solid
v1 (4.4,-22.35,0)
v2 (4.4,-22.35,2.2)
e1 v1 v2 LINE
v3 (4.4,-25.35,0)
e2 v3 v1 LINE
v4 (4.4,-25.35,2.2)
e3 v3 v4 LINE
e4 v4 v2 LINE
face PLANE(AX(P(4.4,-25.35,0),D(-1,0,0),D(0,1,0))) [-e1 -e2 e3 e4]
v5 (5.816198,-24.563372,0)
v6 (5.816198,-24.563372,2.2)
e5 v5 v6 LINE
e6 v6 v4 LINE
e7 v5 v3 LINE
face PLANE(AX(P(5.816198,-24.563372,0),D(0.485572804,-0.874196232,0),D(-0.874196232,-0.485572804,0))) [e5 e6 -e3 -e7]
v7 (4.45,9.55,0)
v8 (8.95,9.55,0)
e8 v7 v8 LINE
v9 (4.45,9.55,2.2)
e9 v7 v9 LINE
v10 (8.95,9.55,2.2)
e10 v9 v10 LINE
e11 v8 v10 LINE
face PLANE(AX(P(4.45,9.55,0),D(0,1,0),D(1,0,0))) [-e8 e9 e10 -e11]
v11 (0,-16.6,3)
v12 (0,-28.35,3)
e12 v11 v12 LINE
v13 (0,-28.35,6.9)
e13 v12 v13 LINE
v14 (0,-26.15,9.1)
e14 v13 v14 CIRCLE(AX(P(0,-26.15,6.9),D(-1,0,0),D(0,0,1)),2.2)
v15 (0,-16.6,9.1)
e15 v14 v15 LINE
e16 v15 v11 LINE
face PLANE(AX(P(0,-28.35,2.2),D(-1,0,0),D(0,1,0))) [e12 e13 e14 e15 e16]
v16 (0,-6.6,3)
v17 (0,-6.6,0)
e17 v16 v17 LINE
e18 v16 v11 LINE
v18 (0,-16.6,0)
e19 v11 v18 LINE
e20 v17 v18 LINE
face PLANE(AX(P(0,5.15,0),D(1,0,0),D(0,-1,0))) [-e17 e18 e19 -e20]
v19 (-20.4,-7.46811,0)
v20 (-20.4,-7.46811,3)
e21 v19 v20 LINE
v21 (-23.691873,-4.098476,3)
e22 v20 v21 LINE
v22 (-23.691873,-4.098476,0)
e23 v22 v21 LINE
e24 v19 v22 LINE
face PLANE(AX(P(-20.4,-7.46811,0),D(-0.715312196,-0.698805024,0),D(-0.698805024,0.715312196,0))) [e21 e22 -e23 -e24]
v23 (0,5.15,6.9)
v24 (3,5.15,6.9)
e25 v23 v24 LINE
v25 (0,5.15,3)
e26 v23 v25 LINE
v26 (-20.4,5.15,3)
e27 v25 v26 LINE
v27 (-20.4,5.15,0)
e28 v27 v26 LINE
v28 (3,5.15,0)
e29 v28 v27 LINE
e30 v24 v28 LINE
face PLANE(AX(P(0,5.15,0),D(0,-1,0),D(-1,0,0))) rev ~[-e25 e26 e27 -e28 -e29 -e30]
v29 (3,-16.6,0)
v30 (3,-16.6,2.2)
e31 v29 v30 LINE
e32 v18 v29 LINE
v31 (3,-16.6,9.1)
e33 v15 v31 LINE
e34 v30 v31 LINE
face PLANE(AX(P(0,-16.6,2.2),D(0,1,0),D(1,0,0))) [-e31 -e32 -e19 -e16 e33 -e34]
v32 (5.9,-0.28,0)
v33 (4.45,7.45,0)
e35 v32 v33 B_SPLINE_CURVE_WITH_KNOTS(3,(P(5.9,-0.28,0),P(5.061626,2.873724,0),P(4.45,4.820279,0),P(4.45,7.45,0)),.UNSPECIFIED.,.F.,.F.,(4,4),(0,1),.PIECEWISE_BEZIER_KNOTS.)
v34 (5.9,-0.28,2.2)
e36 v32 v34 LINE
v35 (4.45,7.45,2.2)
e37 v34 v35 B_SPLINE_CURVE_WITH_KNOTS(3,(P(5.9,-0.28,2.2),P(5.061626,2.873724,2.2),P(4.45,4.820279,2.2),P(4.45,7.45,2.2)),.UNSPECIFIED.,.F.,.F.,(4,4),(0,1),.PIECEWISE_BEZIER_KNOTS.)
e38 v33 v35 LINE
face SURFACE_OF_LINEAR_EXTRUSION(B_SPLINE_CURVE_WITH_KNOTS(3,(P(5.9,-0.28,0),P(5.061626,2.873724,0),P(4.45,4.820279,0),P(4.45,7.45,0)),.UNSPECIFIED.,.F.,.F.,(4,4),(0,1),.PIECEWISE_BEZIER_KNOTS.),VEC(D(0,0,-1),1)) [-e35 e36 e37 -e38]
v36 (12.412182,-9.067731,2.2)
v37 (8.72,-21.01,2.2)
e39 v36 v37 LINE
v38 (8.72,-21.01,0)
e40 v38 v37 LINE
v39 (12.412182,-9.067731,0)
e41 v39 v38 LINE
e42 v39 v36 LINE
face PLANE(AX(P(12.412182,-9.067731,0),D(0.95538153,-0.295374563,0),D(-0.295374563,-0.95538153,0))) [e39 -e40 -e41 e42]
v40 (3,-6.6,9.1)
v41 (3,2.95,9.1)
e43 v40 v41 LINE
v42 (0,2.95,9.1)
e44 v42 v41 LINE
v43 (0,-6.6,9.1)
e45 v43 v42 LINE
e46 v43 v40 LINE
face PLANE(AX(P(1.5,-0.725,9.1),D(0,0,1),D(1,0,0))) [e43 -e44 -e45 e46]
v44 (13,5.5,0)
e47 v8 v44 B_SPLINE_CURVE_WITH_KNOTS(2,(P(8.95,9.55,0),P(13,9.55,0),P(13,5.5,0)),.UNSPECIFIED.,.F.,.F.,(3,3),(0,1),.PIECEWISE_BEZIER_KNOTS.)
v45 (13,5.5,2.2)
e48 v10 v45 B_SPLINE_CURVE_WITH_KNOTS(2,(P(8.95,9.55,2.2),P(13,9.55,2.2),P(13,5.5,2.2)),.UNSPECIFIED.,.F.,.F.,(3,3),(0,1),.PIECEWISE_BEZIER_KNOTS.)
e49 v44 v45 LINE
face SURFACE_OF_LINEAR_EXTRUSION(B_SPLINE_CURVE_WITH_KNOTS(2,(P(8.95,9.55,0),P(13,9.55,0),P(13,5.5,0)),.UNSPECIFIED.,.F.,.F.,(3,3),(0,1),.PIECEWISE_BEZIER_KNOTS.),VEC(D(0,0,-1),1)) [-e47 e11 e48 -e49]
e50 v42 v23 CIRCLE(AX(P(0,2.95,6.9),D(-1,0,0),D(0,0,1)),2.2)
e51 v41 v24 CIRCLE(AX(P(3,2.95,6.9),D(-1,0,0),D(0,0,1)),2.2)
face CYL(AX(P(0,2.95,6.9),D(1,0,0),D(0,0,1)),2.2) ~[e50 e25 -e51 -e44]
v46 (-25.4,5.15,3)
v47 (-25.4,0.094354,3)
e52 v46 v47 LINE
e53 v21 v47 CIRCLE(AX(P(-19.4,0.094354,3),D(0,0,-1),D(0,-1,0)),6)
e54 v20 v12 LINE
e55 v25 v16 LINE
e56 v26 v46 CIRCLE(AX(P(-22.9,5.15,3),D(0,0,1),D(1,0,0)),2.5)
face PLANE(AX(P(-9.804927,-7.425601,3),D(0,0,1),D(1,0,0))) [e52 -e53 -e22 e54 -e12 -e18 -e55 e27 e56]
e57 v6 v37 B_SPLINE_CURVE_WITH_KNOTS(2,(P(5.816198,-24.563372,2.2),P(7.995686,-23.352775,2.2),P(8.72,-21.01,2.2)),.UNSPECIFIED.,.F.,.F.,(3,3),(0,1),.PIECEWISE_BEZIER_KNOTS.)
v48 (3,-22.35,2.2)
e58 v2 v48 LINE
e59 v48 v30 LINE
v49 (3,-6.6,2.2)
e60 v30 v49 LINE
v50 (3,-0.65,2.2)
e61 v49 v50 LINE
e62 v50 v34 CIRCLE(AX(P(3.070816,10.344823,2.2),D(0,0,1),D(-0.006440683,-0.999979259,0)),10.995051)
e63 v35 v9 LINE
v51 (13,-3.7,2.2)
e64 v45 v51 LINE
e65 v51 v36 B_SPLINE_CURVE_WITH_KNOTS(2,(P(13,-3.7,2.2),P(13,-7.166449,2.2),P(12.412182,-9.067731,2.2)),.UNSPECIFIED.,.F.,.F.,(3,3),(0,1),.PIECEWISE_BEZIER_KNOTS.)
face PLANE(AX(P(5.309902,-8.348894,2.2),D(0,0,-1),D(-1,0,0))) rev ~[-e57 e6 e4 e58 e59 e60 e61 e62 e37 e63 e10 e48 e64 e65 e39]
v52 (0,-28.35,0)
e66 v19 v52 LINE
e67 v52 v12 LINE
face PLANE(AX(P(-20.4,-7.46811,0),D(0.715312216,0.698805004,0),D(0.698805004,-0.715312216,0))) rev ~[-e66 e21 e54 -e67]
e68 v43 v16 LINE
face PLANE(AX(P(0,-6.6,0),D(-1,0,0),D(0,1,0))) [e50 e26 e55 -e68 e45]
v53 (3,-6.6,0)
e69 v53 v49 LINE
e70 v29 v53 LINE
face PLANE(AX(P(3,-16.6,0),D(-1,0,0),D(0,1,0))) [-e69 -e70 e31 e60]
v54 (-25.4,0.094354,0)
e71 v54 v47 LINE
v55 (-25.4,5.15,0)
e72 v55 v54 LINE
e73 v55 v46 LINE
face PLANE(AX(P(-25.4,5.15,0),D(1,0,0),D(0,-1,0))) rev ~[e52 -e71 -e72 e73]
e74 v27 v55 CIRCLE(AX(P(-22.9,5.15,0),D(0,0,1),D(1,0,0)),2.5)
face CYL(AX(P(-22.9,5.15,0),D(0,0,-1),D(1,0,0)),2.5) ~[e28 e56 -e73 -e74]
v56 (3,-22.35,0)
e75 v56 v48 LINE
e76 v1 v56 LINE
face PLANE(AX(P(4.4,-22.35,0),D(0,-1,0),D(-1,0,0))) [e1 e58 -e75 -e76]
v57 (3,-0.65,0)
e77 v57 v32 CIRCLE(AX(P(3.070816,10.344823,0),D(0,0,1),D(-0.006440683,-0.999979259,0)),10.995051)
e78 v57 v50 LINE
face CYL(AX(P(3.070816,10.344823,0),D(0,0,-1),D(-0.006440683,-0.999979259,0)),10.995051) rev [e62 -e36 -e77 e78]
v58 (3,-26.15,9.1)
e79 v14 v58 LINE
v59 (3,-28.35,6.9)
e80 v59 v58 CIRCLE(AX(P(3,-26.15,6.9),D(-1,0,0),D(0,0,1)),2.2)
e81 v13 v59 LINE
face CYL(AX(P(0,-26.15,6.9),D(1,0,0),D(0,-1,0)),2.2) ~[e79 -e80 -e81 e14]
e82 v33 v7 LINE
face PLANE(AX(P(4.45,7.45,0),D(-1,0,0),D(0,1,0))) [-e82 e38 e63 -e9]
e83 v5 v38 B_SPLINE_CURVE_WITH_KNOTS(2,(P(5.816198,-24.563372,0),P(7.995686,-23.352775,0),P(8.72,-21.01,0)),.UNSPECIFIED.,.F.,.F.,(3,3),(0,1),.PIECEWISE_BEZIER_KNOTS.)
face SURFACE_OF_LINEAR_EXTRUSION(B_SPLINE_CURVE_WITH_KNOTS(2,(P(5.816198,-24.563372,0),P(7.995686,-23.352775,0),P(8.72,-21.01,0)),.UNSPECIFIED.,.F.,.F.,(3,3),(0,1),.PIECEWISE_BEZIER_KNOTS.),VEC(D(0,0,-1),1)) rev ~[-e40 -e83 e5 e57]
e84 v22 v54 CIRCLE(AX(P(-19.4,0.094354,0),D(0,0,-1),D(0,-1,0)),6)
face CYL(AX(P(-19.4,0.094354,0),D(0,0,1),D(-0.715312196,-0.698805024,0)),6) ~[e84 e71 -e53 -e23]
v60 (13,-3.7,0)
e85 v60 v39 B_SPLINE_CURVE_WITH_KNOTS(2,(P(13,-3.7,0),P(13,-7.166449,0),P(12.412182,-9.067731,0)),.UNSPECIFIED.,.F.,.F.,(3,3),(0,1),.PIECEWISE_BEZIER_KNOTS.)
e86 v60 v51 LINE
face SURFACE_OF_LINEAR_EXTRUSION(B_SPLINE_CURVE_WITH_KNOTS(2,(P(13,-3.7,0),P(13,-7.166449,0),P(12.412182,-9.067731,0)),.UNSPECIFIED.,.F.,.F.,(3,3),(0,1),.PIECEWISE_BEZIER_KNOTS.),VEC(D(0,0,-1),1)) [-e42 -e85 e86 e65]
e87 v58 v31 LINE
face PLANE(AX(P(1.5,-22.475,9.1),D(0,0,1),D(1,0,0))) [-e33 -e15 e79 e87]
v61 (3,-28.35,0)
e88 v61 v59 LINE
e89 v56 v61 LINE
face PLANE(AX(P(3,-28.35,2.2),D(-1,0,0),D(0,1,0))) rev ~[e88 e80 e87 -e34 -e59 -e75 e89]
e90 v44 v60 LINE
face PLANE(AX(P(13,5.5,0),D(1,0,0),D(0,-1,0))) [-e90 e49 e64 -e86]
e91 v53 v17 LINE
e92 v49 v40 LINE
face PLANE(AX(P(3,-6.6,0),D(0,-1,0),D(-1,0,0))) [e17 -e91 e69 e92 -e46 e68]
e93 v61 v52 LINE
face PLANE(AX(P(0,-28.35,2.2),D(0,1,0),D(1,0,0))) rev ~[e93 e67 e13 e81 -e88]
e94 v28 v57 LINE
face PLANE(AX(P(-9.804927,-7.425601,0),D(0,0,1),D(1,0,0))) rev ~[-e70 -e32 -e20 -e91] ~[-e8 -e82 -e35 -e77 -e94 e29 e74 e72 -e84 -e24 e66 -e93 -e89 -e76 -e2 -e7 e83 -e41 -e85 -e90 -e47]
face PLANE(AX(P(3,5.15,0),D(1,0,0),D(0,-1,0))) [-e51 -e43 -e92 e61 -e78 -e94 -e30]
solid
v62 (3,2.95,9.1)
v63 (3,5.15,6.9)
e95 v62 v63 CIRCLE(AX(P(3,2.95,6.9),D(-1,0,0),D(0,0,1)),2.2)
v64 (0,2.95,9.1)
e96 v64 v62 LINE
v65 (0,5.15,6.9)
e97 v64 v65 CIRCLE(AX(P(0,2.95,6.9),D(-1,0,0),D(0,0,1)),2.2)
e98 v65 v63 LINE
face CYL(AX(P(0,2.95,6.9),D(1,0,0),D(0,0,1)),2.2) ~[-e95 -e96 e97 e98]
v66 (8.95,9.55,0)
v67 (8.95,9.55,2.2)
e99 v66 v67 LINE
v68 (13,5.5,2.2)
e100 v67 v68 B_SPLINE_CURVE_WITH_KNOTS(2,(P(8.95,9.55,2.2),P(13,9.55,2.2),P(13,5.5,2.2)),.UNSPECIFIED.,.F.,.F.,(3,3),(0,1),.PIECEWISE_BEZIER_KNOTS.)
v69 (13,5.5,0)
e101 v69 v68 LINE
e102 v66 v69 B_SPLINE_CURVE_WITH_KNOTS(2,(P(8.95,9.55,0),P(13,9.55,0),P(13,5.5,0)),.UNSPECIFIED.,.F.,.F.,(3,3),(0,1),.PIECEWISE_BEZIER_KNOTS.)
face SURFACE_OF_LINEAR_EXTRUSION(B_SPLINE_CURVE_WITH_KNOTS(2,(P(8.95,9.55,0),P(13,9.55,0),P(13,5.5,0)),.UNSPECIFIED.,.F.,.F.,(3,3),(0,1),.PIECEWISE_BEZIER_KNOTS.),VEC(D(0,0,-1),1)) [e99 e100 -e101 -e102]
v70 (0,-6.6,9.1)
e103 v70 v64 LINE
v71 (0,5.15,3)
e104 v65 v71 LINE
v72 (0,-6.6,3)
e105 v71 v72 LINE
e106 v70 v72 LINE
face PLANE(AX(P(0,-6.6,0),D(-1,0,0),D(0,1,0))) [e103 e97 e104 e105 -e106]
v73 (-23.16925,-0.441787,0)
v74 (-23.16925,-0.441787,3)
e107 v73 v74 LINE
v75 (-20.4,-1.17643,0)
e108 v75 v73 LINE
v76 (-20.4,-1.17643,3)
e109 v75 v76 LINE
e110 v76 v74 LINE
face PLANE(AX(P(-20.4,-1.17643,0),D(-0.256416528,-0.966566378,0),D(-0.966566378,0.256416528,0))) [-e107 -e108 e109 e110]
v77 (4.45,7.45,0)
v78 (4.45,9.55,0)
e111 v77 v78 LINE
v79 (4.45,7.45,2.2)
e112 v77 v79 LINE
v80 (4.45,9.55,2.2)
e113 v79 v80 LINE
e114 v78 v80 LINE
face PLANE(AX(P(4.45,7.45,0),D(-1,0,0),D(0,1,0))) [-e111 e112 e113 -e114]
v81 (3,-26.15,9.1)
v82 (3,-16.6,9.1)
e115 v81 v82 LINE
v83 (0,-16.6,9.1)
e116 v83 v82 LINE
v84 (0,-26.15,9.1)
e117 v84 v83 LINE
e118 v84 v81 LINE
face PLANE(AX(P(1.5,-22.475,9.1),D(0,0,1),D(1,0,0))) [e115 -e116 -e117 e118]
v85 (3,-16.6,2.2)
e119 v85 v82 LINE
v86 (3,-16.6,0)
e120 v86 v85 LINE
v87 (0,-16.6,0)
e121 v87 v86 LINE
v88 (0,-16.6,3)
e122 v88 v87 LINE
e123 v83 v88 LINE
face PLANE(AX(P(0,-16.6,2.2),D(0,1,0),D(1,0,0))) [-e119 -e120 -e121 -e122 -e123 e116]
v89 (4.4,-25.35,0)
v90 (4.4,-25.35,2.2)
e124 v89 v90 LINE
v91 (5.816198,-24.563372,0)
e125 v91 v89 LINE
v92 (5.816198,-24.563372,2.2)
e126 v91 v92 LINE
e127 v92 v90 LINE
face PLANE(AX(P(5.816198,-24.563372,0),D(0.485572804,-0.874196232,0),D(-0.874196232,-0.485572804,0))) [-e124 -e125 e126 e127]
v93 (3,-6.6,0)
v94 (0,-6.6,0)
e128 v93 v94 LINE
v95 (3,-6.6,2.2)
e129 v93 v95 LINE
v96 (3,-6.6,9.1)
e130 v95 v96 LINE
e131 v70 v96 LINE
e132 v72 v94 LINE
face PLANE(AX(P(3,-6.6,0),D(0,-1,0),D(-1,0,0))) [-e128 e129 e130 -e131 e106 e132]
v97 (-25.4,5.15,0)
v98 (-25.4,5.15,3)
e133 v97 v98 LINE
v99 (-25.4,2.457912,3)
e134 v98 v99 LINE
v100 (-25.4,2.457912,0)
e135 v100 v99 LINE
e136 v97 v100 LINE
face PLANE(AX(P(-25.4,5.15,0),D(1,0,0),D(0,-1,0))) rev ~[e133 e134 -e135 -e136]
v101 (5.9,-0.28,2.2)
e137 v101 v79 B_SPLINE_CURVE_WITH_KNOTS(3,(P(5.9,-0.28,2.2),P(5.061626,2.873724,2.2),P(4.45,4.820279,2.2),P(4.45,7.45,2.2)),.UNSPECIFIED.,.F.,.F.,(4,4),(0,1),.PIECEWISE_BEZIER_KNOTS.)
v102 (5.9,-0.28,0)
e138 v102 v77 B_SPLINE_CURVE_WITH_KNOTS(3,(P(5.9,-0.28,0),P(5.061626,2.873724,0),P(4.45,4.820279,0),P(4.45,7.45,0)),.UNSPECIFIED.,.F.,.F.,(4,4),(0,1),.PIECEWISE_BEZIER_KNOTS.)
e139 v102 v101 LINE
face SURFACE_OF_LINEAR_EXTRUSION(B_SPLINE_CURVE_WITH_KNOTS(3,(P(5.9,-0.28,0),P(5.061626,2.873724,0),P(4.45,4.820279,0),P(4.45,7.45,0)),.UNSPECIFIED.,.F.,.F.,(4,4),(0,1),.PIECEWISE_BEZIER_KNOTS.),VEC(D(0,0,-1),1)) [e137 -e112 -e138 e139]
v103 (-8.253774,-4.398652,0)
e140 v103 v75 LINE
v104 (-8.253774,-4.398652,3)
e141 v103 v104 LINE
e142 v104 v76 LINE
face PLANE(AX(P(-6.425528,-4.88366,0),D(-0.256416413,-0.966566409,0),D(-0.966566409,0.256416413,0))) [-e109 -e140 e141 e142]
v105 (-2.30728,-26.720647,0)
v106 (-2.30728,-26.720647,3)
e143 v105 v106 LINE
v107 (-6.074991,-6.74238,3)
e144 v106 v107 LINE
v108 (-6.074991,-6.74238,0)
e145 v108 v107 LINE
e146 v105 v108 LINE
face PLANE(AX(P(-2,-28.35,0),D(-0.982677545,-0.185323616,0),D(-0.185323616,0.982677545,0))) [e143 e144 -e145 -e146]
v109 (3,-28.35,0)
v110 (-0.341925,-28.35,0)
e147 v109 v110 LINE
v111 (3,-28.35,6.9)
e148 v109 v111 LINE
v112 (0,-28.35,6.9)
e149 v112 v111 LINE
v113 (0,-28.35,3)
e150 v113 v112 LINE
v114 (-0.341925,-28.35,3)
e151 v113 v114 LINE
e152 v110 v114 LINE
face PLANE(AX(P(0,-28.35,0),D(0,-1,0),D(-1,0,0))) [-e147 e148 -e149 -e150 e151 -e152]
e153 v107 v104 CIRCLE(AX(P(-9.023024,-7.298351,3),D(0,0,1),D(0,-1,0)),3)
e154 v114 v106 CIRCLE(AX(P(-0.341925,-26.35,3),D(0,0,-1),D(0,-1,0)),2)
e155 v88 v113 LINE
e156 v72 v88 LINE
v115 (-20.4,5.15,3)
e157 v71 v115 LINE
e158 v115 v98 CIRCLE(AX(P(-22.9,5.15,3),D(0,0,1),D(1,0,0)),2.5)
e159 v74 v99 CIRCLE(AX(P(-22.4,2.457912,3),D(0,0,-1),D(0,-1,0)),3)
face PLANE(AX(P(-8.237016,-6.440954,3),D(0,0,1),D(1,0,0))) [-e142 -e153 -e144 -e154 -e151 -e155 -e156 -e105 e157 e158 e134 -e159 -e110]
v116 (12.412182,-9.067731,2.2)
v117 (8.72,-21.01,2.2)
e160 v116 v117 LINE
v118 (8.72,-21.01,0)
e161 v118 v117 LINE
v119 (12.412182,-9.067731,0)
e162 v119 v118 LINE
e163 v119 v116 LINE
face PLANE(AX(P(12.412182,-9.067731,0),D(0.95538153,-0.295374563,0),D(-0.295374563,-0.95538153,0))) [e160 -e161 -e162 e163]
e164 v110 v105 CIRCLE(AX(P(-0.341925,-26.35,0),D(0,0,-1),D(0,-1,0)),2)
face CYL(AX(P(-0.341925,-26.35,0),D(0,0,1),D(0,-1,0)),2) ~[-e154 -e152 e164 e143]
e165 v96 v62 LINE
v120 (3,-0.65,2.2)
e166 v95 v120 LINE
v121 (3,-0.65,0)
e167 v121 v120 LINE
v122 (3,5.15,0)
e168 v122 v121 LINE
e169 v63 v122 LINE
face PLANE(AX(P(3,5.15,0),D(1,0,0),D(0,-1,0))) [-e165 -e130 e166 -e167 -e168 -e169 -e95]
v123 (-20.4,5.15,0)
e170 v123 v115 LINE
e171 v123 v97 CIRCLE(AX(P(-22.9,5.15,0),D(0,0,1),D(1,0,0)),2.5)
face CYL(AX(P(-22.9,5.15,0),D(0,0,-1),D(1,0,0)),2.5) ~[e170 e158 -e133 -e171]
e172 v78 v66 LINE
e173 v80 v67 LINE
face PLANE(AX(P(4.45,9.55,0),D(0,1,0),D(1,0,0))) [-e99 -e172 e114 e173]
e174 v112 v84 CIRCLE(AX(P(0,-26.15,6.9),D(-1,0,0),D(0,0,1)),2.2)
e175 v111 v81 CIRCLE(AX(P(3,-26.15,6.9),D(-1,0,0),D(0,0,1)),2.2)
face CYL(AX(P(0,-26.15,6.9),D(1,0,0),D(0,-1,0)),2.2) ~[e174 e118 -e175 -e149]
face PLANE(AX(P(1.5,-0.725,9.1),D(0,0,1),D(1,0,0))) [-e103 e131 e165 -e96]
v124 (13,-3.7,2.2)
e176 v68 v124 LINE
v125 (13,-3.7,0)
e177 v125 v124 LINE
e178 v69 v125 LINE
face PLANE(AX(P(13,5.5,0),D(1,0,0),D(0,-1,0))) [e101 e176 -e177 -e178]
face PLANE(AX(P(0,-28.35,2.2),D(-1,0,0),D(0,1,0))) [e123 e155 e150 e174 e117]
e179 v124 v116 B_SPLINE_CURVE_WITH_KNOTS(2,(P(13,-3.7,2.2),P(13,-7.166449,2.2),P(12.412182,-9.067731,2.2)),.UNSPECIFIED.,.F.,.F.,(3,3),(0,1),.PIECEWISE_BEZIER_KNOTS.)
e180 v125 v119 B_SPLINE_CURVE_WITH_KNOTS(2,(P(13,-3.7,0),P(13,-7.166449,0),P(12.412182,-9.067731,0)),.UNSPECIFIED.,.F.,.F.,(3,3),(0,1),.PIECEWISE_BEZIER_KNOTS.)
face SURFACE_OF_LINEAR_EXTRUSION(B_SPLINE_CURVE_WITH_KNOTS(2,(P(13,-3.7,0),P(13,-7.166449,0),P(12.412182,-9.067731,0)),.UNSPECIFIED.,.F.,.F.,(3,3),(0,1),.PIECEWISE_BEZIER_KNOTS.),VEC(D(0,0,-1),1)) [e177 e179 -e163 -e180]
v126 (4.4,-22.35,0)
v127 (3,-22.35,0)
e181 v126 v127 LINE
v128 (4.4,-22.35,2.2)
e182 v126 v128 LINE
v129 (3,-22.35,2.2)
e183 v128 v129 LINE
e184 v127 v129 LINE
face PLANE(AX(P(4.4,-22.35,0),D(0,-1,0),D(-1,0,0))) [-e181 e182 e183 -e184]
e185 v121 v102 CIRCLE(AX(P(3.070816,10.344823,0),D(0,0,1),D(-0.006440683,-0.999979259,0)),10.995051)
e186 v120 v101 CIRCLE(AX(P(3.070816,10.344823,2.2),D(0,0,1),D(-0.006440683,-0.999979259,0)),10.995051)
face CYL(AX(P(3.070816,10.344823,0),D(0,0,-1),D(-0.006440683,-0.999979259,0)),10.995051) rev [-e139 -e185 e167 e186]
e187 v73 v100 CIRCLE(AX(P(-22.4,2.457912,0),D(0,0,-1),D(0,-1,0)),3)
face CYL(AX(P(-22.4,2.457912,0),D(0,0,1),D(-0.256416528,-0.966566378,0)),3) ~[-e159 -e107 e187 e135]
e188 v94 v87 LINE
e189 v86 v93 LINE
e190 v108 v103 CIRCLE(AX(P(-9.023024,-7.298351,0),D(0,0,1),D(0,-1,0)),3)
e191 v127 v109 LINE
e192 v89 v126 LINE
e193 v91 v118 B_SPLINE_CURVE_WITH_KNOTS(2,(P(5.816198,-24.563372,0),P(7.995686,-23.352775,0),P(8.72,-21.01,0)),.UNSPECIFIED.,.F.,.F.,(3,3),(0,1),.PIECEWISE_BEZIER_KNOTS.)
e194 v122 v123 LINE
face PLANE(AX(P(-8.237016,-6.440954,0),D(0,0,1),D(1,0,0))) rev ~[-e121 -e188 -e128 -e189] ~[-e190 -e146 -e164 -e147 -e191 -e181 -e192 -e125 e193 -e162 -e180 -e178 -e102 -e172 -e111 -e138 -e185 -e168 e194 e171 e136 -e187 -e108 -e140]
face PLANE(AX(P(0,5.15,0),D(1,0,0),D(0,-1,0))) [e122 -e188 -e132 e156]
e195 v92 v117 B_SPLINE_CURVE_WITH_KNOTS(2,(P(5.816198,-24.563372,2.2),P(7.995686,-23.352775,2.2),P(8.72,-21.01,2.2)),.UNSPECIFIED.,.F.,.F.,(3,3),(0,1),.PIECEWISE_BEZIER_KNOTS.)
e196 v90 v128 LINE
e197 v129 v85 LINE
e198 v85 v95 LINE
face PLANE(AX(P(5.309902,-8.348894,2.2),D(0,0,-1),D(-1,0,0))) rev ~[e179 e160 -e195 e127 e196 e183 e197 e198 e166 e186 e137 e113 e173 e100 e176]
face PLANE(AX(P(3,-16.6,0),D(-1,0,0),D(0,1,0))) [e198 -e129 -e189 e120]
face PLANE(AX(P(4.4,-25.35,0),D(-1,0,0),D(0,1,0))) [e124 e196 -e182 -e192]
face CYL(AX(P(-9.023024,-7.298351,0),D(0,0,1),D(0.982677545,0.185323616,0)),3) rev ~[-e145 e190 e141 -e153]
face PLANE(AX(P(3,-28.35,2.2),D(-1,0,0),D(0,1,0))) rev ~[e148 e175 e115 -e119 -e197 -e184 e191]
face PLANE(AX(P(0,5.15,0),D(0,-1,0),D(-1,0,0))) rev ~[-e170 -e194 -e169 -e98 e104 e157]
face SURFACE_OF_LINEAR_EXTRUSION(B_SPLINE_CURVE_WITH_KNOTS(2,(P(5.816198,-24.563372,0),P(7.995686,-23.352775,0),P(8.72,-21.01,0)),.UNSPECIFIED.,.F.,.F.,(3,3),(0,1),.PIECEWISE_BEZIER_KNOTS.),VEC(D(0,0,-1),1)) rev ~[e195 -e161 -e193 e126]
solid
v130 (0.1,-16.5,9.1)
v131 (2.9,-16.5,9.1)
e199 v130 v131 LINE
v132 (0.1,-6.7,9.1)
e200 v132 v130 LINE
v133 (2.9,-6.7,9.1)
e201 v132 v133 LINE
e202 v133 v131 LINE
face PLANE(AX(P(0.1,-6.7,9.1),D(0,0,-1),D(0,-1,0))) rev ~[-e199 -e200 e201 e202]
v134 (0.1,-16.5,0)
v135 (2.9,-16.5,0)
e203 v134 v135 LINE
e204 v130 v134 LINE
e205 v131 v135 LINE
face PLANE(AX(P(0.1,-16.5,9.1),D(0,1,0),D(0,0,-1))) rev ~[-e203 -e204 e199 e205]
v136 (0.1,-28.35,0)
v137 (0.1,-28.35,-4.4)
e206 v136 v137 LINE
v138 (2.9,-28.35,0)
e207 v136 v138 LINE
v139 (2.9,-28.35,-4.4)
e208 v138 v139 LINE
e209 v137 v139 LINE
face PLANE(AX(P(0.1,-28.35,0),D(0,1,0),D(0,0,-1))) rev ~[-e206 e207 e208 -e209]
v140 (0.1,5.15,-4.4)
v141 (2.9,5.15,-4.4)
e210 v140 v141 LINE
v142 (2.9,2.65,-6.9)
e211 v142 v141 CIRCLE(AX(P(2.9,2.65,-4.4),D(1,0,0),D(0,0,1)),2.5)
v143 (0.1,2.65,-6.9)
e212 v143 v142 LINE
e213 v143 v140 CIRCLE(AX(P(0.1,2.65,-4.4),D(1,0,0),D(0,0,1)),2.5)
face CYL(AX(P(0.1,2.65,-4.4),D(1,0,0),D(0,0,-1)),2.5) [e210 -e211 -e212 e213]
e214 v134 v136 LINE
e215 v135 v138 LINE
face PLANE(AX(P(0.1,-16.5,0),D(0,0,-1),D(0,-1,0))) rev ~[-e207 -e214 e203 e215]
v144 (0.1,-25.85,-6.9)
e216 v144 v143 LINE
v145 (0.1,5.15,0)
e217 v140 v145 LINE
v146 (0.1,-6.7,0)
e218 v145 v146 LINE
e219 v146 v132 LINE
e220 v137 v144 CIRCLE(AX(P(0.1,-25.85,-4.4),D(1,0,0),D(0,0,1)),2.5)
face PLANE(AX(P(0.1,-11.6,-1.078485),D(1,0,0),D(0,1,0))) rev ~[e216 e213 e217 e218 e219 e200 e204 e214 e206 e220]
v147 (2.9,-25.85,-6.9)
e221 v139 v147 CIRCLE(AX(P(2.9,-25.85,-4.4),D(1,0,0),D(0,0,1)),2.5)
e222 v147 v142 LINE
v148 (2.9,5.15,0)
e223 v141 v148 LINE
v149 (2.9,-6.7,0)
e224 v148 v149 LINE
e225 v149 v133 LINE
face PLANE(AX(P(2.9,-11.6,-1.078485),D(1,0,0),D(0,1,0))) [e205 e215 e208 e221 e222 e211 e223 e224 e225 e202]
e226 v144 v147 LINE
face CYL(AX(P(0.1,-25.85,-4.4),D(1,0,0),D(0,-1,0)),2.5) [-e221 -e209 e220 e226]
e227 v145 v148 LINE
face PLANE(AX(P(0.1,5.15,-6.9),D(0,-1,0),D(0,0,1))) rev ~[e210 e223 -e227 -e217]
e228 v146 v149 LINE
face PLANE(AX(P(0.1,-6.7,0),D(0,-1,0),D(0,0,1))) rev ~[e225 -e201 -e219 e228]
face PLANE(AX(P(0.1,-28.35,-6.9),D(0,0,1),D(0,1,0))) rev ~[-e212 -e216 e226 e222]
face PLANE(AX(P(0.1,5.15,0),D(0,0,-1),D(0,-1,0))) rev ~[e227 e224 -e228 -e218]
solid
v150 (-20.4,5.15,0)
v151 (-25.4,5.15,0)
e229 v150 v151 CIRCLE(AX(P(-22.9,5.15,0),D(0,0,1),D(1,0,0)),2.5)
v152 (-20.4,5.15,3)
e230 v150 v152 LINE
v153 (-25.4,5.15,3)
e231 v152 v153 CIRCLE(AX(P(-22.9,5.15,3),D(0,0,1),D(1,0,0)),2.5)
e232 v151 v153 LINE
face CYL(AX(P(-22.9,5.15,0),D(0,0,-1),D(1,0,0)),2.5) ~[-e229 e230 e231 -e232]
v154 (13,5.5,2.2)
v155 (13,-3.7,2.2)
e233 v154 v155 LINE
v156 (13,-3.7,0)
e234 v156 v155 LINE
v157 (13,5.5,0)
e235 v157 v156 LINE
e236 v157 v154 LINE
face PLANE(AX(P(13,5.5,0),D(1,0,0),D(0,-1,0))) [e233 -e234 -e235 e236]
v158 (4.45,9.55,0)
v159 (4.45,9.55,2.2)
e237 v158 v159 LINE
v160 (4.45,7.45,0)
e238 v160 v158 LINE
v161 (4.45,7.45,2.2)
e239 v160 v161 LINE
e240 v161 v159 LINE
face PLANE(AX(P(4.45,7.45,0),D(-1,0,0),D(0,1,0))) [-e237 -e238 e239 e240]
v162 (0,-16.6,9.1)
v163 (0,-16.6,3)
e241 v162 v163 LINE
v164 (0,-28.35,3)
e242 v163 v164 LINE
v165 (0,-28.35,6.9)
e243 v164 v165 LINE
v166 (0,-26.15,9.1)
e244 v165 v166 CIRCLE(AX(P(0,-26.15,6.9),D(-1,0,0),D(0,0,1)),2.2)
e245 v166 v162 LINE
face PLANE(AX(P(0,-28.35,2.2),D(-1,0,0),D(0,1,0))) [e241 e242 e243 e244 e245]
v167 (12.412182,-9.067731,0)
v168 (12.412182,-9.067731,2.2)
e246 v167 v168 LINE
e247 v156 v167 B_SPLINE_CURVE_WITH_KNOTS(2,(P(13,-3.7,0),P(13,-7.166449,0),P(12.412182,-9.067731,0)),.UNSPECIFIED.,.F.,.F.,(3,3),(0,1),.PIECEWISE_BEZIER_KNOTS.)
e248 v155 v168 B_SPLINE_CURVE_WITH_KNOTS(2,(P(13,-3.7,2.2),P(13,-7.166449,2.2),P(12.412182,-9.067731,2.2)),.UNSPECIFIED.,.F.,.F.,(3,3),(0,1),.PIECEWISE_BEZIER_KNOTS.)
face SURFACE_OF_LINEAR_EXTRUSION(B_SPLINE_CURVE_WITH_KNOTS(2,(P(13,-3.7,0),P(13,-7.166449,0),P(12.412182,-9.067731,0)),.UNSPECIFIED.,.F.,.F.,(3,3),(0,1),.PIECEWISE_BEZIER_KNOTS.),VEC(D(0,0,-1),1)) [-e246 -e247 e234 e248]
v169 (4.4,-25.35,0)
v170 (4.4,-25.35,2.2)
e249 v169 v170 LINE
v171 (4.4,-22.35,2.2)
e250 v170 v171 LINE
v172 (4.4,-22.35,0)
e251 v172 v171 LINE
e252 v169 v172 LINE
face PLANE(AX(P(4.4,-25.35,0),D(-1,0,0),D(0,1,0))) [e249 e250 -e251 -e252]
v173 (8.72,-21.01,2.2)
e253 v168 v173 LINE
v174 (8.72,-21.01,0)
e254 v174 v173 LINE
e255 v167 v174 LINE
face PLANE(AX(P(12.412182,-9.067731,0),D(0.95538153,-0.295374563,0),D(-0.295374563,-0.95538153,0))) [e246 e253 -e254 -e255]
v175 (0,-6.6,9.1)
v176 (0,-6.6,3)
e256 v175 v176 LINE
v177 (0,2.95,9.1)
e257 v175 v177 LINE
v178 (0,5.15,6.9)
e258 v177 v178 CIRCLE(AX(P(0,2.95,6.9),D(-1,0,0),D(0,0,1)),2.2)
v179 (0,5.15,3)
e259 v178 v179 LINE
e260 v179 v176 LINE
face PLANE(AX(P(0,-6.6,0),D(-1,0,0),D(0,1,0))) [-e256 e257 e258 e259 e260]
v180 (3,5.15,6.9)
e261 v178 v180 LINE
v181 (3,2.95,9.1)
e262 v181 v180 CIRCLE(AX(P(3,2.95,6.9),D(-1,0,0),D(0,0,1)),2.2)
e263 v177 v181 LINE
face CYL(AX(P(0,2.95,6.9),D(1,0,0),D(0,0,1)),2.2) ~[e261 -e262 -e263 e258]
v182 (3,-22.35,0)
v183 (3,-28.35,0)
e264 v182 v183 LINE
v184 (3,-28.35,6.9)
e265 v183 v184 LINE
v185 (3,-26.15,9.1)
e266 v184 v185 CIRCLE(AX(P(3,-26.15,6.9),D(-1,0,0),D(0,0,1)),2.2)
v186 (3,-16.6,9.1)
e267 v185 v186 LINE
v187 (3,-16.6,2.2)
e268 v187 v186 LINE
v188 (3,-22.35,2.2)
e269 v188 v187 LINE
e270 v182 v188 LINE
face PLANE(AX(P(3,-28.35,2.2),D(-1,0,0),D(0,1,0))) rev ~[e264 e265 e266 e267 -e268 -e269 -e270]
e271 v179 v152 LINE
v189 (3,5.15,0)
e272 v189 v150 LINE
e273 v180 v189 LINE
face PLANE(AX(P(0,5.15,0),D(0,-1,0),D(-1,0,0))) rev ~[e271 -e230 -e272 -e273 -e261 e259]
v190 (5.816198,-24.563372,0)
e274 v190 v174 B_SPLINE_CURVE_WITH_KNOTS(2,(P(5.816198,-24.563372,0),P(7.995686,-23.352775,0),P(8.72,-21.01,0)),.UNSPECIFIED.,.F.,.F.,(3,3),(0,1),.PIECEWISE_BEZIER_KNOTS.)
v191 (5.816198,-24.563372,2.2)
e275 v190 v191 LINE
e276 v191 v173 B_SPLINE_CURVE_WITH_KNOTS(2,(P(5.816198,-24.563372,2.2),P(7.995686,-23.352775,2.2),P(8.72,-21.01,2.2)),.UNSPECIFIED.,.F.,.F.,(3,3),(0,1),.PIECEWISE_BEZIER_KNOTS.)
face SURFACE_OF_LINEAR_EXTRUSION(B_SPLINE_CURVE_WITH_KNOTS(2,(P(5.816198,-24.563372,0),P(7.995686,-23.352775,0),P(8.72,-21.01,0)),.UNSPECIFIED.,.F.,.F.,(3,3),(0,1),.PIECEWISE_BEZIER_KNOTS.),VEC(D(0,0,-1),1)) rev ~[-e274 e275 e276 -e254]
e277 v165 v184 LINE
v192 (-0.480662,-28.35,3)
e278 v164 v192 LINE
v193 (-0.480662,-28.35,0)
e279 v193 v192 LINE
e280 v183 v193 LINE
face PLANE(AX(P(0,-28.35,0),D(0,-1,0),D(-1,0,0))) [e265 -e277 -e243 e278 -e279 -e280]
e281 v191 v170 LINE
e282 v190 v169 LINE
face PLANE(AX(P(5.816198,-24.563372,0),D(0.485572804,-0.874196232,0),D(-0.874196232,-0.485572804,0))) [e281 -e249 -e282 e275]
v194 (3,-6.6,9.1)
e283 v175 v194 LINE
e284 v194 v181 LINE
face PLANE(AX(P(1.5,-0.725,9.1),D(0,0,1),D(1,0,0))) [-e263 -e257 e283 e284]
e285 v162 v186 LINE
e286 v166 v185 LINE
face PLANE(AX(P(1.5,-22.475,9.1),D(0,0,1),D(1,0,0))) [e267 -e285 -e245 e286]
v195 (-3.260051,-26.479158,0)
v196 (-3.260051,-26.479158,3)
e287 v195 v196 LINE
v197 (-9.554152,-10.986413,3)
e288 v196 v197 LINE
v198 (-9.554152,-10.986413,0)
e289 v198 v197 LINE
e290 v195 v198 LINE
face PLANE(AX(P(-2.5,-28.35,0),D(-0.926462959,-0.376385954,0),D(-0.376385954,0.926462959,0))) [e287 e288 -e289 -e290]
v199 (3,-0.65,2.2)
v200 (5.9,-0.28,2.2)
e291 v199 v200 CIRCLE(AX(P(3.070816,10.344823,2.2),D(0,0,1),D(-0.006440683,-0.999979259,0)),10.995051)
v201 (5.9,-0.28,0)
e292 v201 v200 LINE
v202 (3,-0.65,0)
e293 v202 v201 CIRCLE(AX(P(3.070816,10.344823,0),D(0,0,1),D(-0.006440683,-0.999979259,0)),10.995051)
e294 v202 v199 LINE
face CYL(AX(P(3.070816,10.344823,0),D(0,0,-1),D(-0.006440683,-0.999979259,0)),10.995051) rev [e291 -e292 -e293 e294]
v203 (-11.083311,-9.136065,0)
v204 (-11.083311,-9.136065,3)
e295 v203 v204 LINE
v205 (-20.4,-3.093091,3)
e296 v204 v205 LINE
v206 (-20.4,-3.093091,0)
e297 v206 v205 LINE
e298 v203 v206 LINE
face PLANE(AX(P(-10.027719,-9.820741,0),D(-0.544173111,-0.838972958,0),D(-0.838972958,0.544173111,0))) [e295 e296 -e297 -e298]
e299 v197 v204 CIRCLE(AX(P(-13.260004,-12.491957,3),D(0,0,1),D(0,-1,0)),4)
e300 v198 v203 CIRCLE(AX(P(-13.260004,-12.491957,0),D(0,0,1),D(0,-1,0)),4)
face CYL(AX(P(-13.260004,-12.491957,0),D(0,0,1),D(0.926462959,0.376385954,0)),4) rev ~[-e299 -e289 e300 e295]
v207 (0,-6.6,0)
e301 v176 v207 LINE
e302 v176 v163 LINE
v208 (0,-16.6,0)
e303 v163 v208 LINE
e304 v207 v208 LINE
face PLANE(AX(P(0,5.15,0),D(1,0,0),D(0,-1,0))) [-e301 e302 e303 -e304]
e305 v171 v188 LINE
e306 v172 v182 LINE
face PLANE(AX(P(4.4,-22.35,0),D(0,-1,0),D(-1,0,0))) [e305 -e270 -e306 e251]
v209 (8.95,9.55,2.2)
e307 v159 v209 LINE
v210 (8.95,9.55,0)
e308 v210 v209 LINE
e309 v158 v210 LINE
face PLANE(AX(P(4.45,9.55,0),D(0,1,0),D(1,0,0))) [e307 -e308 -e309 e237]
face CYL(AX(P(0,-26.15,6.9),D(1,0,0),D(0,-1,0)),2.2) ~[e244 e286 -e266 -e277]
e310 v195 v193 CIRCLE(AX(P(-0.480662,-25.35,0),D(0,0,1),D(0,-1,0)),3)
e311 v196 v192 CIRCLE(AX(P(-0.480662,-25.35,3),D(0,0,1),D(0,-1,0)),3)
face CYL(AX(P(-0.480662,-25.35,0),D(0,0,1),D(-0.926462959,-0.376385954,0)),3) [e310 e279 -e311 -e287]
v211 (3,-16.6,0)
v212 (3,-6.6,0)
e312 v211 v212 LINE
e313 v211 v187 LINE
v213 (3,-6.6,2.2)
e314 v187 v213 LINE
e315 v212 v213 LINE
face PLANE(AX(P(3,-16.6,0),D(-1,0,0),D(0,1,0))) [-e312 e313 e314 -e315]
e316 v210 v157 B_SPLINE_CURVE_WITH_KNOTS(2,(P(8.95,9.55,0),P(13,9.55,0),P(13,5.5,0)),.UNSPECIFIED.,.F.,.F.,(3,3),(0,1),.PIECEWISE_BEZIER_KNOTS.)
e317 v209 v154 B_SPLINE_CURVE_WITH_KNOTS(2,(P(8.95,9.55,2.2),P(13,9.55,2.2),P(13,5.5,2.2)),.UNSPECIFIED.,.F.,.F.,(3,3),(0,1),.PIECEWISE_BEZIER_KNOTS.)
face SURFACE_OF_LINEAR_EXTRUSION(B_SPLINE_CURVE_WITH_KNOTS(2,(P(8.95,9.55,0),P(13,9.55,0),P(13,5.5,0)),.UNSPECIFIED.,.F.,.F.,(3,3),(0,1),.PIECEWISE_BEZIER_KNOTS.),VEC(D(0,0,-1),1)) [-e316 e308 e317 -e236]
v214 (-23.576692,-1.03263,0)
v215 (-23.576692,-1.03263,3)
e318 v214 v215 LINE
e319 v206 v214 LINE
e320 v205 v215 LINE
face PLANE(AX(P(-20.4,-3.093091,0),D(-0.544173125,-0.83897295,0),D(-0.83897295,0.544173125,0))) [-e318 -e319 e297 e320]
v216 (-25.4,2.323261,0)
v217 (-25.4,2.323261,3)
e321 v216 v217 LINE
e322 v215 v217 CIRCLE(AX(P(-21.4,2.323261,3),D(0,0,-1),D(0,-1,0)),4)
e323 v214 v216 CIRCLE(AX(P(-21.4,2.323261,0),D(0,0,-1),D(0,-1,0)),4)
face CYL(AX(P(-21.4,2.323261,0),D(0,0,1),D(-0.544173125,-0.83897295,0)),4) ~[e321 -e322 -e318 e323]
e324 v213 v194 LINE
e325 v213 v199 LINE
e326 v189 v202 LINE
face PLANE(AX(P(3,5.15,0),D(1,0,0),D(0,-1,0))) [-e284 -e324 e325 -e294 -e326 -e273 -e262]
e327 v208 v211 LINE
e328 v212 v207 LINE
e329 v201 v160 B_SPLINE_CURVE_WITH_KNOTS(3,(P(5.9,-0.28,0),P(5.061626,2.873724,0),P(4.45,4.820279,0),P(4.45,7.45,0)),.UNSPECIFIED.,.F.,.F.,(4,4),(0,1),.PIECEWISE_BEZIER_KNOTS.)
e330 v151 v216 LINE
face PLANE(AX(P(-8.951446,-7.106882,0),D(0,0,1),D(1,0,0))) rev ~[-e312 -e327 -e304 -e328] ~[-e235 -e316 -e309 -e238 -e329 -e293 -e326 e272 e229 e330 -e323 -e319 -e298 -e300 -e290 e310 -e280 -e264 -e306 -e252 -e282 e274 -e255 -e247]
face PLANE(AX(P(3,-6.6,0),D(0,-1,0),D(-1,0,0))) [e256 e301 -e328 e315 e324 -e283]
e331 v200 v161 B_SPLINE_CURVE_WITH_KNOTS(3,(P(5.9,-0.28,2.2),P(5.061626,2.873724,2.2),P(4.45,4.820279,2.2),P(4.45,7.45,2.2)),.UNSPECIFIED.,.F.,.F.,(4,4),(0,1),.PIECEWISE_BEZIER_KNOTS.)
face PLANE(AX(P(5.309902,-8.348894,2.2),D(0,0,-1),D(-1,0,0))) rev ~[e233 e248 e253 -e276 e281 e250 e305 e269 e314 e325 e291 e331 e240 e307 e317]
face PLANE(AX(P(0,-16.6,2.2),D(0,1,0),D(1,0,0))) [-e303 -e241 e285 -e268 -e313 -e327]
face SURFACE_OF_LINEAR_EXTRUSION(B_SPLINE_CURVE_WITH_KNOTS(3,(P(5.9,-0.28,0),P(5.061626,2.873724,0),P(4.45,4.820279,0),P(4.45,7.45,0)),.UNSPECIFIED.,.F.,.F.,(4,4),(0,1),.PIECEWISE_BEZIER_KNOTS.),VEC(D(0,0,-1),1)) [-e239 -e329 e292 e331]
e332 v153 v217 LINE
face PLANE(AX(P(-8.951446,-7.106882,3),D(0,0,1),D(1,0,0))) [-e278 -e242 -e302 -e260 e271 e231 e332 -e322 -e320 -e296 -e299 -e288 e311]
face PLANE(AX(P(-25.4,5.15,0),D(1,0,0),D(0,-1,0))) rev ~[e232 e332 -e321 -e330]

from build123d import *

# Parameters (mm, degrees)
PAD_DEPTH    = 2.2
SKETCH001_W  = 3
SKETCH001_H  = 11.75
PAD001_DEPTH = 6.9
FILLET_R     = 2.2
PAD002_DEPTH = 3
FILLET001_R  = 6
PAD003_DEPTH = 2.2
SKETCH004_W  = 3
SKETCH004_H  = 11.75
PAD004_DEPTH = 6.9
FILLET002_R  = 2.2
PAD005_DEPTH = 3
FILLET007_R  = 4
FILLET008_R  = 3
PAD006_DEPTH = 2.2
SKETCH007_W  = 3
SKETCH007_H  = 11.75
PAD007_DEPTH = 6.9
FILLET004_R  = 2.2
PAD008_DEPTH = 3
FILLET005_R  = 2
FILLET006_R  = 3
PAD009_START = 0.1
PAD009_DEPTH = 2.8
FILLET009_R  = 2.5


with BuildPart() as heavy:
    # Sketch → Pad (new body)
    with BuildSketch(Plane.XY):
        with BuildLine():
            Line((3, -16.6), (3, -6.6))
            Line((3, -6.6), (0, -6.6))
            Line((0, -6.6), (0, 0))
            Line((0, 0), (0, 5.15))
            Line((0, 5.15), (3, 5.15))
            Line((3, 5.15), (3, -0.65))
            ThreePointArc((3, -0.65), (4.462352, -0.561816), (5.9, -0.28))
            add(Edge.make_bspline(
                [(5.9, -0.28), (5.061626, 2.873724), (4.45, 4.820279), (4.45, 7.45)],
                knots=[0, 0, 0, 0, 1, 1, 1, 1], degree=3))
            Line((4.45, 7.45), (4.45, 9.55))
            Line((4.45, 9.55), (8.95, 9.55))
            add(Edge.make_bspline(
                [(8.95, 9.55), (13, 9.55), (13, 5.5)],
                knots=[0, 0, 0, 1, 1, 1], degree=2))
            Line((13, 5.5), (13, -3.7))
            add(Edge.make_bspline(
                [(13, -3.7), (13, -7.166449), (12.412182, -9.067731)],
                knots=[0, 0, 0, 1, 1, 1], degree=2))
            Line((12.412182, -9.067731), (8.72, -21.01))
            add(Edge.make_bspline(
                [(5.816198, -24.563372), (7.995686, -23.352775), (8.72, -21.01)],
                knots=[0, 0, 0, 1, 1, 1], degree=2))
            Line((5.816198, -24.563372), (4.4, -25.35))
            Line((4.4, -25.35), (4.4, -22.35))
            Line((4.4, -22.35), (3, -22.35))
            Line((3, -22.35), (3, -28.35))
            Line((3, -28.35), (0, -28.35))
            Line((0, -28.35), (0, -16.6))
            Line((0, -16.6), (3, -16.6))
        make_face()
    extrude(amount=PAD_DEPTH)

    # Sketch001 (on Face24 of Pad) → Pad001 (join)
    with BuildSketch(Plane.XY.offset(2.2)):
        with Locations((1.5, -22.475)):
            Rectangle(SKETCH001_W, SKETCH001_H)
        with Locations((1.5, -0.725)):
            Rectangle(SKETCH001_W, SKETCH001_H)
    extrude(amount=PAD001_DEPTH)

    # Fillet
    fillet_edges = [heavy.edges().sort_by_distance(p)[0] for p in [
        (1.5, 5.15, 9.1),
        (1.5, -28.35, 9.1),
    ]]
    fillet(fillet_edges, radius=FILLET_R)

    # Sketch002 → Pad002 (join)
    with BuildSketch(Plane.XY):
        with BuildLine():
            Line((0, 5.15), (-20.4, 5.15))
            ThreePointArc((-20.4, 5.15), (-22.9, 7.65), (-25.4, 5.15))
            Line((-25.4, 5.15), (-25.4, -2.35))
            Line((-20.4, -7.46811), (-25.4, -2.35))
            Line((-20.4, -7.46811), (0, -28.35))
            Line((0, 5.15), (0, -28.35))
        make_face()
    extrude(amount=PAD002_DEPTH)

    # Fillet001
    fillet001_edges = [heavy.edges().sort_by_distance(p)[0] for p in [
        (-25.4, -2.35, 1.5),
    ]]
    fillet(fillet001_edges, radius=FILLET001_R)


with BuildPart() as medium:
    # Sketch003 → Pad003 (new body)
    with BuildSketch(Plane.XY):
        with BuildLine():
            Line((3, -16.6), (3, -6.6))
            Line((3, -6.6), (0, -6.6))
            Line((0, -6.6), (0, 0))
            Line((0, 0), (0, 5.15))
            Line((0, 5.15), (3, 5.15))
            Line((3, 5.15), (3, -0.65))
            ThreePointArc((3, -0.65), (4.462352, -0.561816), (5.9, -0.28))
            add(Edge.make_bspline(
                [(5.9, -0.28), (5.061626, 2.873724), (4.45, 4.820279), (4.45, 7.45)],
                knots=[0, 0, 0, 0, 1, 1, 1, 1], degree=3))
            Line((4.45, 7.45), (4.45, 9.55))
            Line((4.45, 9.55), (8.95, 9.55))
            add(Edge.make_bspline(
                [(8.95, 9.55), (13, 9.55), (13, 5.5)],
                knots=[0, 0, 0, 1, 1, 1], degree=2))
            Line((13, 5.5), (13, -3.7))
            add(Edge.make_bspline(
                [(13, -3.7), (13, -7.166449), (12.412182, -9.067731)],
                knots=[0, 0, 0, 1, 1, 1], degree=2))
            Line((12.412182, -9.067731), (8.72, -21.01))
            add(Edge.make_bspline(
                [(5.816198, -24.563372), (7.995686, -23.352775), (8.72, -21.01)],
                knots=[0, 0, 0, 1, 1, 1], degree=2))
            Line((5.816198, -24.563372), (4.4, -25.35))
            Line((4.4, -25.35), (4.4, -22.35))
            Line((4.4, -22.35), (3, -22.35))
            Line((3, -22.35), (3, -28.35))
            Line((3, -28.35), (0, -28.35))
            Line((0, -28.35), (0, -16.6))
            Line((0, -16.6), (3, -16.6))
        make_face()
    extrude(amount=PAD003_DEPTH)

    # Sketch004 (on Face24 of Pad003) → Pad004 (join)
    with BuildSketch(Plane.XY.offset(2.2)):
        with Locations((1.5, -22.475)):
            Rectangle(SKETCH004_W, SKETCH004_H)
        with Locations((1.5, -0.725)):
            Rectangle(SKETCH004_W, SKETCH004_H)
    extrude(amount=PAD004_DEPTH)

    # Fillet002
    fillet002_edges = [medium.edges().sort_by_distance(p)[0] for p in [
        (1.5, 5.15, 9.1),
        (1.5, -28.35, 9.1),
    ]]
    fillet(fillet002_edges, radius=FILLET002_R)

    # Sketch005 → Pad005 (join)
    with BuildSketch(Plane.XY):
        with BuildLine():
            Line((0, 5.15), (-20.4, 5.15))
            ThreePointArc((-20.4, 5.15), (-22.9, 7.65), (-25.4, 5.15))
            Line((-25.4, 5.15), (-25.4, 0.15))
            Line((-20.4, -3.093091), (-25.4, 0.15))
            Line((-10.027719, -9.820741), (-20.4, -3.093091))
            Line((-2.5, -28.35), (-10.027719, -9.820741))
            Line((0, -28.35), (-2.5, -28.35))
            Line((0, 5.15), (0, -28.35))
        make_face()
    extrude(amount=PAD005_DEPTH)

    # Fillet007
    fillet007_edges = [medium.edges().sort_by_distance(p)[0] for p in [
        (-25.4, 0.15, 1.5),
        (-10.027719, -9.820741, 1.5),
    ]]
    fillet(fillet007_edges, radius=FILLET007_R)

    # Fillet008
    fillet008_edges = [medium.edges().sort_by_distance(p)[0] for p in [
        (-2.5, -28.35, 1.5),
    ]]
    fillet(fillet008_edges, radius=FILLET008_R)


with BuildPart() as light:
    # Sketch006 → Pad006 (new body)
    with BuildSketch(Plane.XY):
        with BuildLine():
            Line((3, -16.6), (3, -6.6))
            Line((3, -6.6), (0, -6.6))
            Line((0, -6.6), (0, 0))
            Line((0, 0), (0, 5.15))
            Line((0, 5.15), (3, 5.15))
            Line((3, 5.15), (3, -0.65))
            ThreePointArc((3, -0.65), (4.462352, -0.561816), (5.9, -0.28))
            add(Edge.make_bspline(
                [(5.9, -0.28), (5.061626, 2.873724), (4.45, 4.820279), (4.45, 7.45)],
                knots=[0, 0, 0, 0, 1, 1, 1, 1], degree=3))
            Line((4.45, 7.45), (4.45, 9.55))
            Line((4.45, 9.55), (8.95, 9.55))
            add(Edge.make_bspline(
                [(8.95, 9.55), (13, 9.55), (13, 5.5)],
                knots=[0, 0, 0, 1, 1, 1], degree=2))
            Line((13, 5.5), (13, -3.7))
            add(Edge.make_bspline(
                [(13, -3.7), (13, -7.166449), (12.412182, -9.067731)],
                knots=[0, 0, 0, 1, 1, 1], degree=2))
            Line((12.412182, -9.067731), (8.72, -21.01))
            add(Edge.make_bspline(
                [(5.816198, -24.563372), (7.995686, -23.352775), (8.72, -21.01)],
                knots=[0, 0, 0, 1, 1, 1], degree=2))
            Line((5.816198, -24.563372), (4.4, -25.35))
            Line((4.4, -25.35), (4.4, -22.35))
            Line((4.4, -22.35), (3, -22.35))
            Line((3, -22.35), (3, -28.35))
            Line((3, -28.35), (0, -28.35))
            Line((0, -28.35), (0, -16.6))
            Line((0, -16.6), (3, -16.6))
        make_face()
    extrude(amount=PAD006_DEPTH)

    # Sketch007 (on Face24 of Pad006) → Pad007 (join)
    with BuildSketch(Plane.XY.offset(2.2)):
        with Locations((1.5, -22.475)):
            Rectangle(SKETCH007_W, SKETCH007_H)
        with Locations((1.5, -0.725)):
            Rectangle(SKETCH007_W, SKETCH007_H)
    extrude(amount=PAD007_DEPTH)

    # Fillet004
    fillet004_edges = [light.edges().sort_by_distance(p)[0] for p in [
        (1.5, 5.15, 9.1),
        (1.5, -28.35, 9.1),
    ]]
    fillet(fillet004_edges, radius=FILLET004_R)

    # Sketch008 → Pad008 (join)
    with BuildSketch(Plane.XY):
        with BuildLine():
            Line((0, 5.15), (-20.4, 5.15))
            ThreePointArc((-20.4, 5.15), (-22.9, 7.65), (-25.4, 5.15))
            Line((-25.4, 5.15), (-25.4, 0.15))
            Line((-20.4, -1.17643), (-25.4, 0.15))
            Line((-6.425528, -4.88366), (-20.4, -1.17643))
            Line((-2, -28.35), (-6.425528, -4.88366))
            Line((0, -28.35), (-2, -28.35))
            Line((0, 5.15), (0, -28.35))
        make_face()
    extrude(amount=PAD008_DEPTH)

    # Fillet005
    fillet005_edges = [light.edges().sort_by_distance(p)[0] for p in [
        (-2, -28.35, 1.5),
    ]]
    fillet(fillet005_edges, radius=FILLET005_R)

    # Fillet006
    fillet006_edges = [light.edges().sort_by_distance(p)[0] for p in [
        (-6.425528, -4.88366, 1.5),
        (-25.4, 0.15, 1.5),
    ]]
    fillet(fillet006_edges, radius=FILLET006_R)


with BuildPart() as retainer:
    # Sketch009 → Pad009 (new body)
    with BuildSketch(Plane.YZ.offset(PAD009_START)):
        Polygon((-28.35, 0), (-28.35, -6.9), (5.15, -6.9), (5.15, 0), (-6.7, 0), (-6.7, 9.1), (-16.5, 9.1), (-16.5, 0), align=None)
    extrude(amount=PAD009_DEPTH)

    # Fillet009
    fillet009_edges = [retainer.edges().sort_by_distance(p)[0] for p in [
        (1.5, -28.35, -6.9),
        (1.5, 5.15, -6.9),
    ]]
    fillet(fillet009_edges, radius=FILLET009_R)


solid = Compound([heavy.part, medium.part, light.part, retainer.part])
